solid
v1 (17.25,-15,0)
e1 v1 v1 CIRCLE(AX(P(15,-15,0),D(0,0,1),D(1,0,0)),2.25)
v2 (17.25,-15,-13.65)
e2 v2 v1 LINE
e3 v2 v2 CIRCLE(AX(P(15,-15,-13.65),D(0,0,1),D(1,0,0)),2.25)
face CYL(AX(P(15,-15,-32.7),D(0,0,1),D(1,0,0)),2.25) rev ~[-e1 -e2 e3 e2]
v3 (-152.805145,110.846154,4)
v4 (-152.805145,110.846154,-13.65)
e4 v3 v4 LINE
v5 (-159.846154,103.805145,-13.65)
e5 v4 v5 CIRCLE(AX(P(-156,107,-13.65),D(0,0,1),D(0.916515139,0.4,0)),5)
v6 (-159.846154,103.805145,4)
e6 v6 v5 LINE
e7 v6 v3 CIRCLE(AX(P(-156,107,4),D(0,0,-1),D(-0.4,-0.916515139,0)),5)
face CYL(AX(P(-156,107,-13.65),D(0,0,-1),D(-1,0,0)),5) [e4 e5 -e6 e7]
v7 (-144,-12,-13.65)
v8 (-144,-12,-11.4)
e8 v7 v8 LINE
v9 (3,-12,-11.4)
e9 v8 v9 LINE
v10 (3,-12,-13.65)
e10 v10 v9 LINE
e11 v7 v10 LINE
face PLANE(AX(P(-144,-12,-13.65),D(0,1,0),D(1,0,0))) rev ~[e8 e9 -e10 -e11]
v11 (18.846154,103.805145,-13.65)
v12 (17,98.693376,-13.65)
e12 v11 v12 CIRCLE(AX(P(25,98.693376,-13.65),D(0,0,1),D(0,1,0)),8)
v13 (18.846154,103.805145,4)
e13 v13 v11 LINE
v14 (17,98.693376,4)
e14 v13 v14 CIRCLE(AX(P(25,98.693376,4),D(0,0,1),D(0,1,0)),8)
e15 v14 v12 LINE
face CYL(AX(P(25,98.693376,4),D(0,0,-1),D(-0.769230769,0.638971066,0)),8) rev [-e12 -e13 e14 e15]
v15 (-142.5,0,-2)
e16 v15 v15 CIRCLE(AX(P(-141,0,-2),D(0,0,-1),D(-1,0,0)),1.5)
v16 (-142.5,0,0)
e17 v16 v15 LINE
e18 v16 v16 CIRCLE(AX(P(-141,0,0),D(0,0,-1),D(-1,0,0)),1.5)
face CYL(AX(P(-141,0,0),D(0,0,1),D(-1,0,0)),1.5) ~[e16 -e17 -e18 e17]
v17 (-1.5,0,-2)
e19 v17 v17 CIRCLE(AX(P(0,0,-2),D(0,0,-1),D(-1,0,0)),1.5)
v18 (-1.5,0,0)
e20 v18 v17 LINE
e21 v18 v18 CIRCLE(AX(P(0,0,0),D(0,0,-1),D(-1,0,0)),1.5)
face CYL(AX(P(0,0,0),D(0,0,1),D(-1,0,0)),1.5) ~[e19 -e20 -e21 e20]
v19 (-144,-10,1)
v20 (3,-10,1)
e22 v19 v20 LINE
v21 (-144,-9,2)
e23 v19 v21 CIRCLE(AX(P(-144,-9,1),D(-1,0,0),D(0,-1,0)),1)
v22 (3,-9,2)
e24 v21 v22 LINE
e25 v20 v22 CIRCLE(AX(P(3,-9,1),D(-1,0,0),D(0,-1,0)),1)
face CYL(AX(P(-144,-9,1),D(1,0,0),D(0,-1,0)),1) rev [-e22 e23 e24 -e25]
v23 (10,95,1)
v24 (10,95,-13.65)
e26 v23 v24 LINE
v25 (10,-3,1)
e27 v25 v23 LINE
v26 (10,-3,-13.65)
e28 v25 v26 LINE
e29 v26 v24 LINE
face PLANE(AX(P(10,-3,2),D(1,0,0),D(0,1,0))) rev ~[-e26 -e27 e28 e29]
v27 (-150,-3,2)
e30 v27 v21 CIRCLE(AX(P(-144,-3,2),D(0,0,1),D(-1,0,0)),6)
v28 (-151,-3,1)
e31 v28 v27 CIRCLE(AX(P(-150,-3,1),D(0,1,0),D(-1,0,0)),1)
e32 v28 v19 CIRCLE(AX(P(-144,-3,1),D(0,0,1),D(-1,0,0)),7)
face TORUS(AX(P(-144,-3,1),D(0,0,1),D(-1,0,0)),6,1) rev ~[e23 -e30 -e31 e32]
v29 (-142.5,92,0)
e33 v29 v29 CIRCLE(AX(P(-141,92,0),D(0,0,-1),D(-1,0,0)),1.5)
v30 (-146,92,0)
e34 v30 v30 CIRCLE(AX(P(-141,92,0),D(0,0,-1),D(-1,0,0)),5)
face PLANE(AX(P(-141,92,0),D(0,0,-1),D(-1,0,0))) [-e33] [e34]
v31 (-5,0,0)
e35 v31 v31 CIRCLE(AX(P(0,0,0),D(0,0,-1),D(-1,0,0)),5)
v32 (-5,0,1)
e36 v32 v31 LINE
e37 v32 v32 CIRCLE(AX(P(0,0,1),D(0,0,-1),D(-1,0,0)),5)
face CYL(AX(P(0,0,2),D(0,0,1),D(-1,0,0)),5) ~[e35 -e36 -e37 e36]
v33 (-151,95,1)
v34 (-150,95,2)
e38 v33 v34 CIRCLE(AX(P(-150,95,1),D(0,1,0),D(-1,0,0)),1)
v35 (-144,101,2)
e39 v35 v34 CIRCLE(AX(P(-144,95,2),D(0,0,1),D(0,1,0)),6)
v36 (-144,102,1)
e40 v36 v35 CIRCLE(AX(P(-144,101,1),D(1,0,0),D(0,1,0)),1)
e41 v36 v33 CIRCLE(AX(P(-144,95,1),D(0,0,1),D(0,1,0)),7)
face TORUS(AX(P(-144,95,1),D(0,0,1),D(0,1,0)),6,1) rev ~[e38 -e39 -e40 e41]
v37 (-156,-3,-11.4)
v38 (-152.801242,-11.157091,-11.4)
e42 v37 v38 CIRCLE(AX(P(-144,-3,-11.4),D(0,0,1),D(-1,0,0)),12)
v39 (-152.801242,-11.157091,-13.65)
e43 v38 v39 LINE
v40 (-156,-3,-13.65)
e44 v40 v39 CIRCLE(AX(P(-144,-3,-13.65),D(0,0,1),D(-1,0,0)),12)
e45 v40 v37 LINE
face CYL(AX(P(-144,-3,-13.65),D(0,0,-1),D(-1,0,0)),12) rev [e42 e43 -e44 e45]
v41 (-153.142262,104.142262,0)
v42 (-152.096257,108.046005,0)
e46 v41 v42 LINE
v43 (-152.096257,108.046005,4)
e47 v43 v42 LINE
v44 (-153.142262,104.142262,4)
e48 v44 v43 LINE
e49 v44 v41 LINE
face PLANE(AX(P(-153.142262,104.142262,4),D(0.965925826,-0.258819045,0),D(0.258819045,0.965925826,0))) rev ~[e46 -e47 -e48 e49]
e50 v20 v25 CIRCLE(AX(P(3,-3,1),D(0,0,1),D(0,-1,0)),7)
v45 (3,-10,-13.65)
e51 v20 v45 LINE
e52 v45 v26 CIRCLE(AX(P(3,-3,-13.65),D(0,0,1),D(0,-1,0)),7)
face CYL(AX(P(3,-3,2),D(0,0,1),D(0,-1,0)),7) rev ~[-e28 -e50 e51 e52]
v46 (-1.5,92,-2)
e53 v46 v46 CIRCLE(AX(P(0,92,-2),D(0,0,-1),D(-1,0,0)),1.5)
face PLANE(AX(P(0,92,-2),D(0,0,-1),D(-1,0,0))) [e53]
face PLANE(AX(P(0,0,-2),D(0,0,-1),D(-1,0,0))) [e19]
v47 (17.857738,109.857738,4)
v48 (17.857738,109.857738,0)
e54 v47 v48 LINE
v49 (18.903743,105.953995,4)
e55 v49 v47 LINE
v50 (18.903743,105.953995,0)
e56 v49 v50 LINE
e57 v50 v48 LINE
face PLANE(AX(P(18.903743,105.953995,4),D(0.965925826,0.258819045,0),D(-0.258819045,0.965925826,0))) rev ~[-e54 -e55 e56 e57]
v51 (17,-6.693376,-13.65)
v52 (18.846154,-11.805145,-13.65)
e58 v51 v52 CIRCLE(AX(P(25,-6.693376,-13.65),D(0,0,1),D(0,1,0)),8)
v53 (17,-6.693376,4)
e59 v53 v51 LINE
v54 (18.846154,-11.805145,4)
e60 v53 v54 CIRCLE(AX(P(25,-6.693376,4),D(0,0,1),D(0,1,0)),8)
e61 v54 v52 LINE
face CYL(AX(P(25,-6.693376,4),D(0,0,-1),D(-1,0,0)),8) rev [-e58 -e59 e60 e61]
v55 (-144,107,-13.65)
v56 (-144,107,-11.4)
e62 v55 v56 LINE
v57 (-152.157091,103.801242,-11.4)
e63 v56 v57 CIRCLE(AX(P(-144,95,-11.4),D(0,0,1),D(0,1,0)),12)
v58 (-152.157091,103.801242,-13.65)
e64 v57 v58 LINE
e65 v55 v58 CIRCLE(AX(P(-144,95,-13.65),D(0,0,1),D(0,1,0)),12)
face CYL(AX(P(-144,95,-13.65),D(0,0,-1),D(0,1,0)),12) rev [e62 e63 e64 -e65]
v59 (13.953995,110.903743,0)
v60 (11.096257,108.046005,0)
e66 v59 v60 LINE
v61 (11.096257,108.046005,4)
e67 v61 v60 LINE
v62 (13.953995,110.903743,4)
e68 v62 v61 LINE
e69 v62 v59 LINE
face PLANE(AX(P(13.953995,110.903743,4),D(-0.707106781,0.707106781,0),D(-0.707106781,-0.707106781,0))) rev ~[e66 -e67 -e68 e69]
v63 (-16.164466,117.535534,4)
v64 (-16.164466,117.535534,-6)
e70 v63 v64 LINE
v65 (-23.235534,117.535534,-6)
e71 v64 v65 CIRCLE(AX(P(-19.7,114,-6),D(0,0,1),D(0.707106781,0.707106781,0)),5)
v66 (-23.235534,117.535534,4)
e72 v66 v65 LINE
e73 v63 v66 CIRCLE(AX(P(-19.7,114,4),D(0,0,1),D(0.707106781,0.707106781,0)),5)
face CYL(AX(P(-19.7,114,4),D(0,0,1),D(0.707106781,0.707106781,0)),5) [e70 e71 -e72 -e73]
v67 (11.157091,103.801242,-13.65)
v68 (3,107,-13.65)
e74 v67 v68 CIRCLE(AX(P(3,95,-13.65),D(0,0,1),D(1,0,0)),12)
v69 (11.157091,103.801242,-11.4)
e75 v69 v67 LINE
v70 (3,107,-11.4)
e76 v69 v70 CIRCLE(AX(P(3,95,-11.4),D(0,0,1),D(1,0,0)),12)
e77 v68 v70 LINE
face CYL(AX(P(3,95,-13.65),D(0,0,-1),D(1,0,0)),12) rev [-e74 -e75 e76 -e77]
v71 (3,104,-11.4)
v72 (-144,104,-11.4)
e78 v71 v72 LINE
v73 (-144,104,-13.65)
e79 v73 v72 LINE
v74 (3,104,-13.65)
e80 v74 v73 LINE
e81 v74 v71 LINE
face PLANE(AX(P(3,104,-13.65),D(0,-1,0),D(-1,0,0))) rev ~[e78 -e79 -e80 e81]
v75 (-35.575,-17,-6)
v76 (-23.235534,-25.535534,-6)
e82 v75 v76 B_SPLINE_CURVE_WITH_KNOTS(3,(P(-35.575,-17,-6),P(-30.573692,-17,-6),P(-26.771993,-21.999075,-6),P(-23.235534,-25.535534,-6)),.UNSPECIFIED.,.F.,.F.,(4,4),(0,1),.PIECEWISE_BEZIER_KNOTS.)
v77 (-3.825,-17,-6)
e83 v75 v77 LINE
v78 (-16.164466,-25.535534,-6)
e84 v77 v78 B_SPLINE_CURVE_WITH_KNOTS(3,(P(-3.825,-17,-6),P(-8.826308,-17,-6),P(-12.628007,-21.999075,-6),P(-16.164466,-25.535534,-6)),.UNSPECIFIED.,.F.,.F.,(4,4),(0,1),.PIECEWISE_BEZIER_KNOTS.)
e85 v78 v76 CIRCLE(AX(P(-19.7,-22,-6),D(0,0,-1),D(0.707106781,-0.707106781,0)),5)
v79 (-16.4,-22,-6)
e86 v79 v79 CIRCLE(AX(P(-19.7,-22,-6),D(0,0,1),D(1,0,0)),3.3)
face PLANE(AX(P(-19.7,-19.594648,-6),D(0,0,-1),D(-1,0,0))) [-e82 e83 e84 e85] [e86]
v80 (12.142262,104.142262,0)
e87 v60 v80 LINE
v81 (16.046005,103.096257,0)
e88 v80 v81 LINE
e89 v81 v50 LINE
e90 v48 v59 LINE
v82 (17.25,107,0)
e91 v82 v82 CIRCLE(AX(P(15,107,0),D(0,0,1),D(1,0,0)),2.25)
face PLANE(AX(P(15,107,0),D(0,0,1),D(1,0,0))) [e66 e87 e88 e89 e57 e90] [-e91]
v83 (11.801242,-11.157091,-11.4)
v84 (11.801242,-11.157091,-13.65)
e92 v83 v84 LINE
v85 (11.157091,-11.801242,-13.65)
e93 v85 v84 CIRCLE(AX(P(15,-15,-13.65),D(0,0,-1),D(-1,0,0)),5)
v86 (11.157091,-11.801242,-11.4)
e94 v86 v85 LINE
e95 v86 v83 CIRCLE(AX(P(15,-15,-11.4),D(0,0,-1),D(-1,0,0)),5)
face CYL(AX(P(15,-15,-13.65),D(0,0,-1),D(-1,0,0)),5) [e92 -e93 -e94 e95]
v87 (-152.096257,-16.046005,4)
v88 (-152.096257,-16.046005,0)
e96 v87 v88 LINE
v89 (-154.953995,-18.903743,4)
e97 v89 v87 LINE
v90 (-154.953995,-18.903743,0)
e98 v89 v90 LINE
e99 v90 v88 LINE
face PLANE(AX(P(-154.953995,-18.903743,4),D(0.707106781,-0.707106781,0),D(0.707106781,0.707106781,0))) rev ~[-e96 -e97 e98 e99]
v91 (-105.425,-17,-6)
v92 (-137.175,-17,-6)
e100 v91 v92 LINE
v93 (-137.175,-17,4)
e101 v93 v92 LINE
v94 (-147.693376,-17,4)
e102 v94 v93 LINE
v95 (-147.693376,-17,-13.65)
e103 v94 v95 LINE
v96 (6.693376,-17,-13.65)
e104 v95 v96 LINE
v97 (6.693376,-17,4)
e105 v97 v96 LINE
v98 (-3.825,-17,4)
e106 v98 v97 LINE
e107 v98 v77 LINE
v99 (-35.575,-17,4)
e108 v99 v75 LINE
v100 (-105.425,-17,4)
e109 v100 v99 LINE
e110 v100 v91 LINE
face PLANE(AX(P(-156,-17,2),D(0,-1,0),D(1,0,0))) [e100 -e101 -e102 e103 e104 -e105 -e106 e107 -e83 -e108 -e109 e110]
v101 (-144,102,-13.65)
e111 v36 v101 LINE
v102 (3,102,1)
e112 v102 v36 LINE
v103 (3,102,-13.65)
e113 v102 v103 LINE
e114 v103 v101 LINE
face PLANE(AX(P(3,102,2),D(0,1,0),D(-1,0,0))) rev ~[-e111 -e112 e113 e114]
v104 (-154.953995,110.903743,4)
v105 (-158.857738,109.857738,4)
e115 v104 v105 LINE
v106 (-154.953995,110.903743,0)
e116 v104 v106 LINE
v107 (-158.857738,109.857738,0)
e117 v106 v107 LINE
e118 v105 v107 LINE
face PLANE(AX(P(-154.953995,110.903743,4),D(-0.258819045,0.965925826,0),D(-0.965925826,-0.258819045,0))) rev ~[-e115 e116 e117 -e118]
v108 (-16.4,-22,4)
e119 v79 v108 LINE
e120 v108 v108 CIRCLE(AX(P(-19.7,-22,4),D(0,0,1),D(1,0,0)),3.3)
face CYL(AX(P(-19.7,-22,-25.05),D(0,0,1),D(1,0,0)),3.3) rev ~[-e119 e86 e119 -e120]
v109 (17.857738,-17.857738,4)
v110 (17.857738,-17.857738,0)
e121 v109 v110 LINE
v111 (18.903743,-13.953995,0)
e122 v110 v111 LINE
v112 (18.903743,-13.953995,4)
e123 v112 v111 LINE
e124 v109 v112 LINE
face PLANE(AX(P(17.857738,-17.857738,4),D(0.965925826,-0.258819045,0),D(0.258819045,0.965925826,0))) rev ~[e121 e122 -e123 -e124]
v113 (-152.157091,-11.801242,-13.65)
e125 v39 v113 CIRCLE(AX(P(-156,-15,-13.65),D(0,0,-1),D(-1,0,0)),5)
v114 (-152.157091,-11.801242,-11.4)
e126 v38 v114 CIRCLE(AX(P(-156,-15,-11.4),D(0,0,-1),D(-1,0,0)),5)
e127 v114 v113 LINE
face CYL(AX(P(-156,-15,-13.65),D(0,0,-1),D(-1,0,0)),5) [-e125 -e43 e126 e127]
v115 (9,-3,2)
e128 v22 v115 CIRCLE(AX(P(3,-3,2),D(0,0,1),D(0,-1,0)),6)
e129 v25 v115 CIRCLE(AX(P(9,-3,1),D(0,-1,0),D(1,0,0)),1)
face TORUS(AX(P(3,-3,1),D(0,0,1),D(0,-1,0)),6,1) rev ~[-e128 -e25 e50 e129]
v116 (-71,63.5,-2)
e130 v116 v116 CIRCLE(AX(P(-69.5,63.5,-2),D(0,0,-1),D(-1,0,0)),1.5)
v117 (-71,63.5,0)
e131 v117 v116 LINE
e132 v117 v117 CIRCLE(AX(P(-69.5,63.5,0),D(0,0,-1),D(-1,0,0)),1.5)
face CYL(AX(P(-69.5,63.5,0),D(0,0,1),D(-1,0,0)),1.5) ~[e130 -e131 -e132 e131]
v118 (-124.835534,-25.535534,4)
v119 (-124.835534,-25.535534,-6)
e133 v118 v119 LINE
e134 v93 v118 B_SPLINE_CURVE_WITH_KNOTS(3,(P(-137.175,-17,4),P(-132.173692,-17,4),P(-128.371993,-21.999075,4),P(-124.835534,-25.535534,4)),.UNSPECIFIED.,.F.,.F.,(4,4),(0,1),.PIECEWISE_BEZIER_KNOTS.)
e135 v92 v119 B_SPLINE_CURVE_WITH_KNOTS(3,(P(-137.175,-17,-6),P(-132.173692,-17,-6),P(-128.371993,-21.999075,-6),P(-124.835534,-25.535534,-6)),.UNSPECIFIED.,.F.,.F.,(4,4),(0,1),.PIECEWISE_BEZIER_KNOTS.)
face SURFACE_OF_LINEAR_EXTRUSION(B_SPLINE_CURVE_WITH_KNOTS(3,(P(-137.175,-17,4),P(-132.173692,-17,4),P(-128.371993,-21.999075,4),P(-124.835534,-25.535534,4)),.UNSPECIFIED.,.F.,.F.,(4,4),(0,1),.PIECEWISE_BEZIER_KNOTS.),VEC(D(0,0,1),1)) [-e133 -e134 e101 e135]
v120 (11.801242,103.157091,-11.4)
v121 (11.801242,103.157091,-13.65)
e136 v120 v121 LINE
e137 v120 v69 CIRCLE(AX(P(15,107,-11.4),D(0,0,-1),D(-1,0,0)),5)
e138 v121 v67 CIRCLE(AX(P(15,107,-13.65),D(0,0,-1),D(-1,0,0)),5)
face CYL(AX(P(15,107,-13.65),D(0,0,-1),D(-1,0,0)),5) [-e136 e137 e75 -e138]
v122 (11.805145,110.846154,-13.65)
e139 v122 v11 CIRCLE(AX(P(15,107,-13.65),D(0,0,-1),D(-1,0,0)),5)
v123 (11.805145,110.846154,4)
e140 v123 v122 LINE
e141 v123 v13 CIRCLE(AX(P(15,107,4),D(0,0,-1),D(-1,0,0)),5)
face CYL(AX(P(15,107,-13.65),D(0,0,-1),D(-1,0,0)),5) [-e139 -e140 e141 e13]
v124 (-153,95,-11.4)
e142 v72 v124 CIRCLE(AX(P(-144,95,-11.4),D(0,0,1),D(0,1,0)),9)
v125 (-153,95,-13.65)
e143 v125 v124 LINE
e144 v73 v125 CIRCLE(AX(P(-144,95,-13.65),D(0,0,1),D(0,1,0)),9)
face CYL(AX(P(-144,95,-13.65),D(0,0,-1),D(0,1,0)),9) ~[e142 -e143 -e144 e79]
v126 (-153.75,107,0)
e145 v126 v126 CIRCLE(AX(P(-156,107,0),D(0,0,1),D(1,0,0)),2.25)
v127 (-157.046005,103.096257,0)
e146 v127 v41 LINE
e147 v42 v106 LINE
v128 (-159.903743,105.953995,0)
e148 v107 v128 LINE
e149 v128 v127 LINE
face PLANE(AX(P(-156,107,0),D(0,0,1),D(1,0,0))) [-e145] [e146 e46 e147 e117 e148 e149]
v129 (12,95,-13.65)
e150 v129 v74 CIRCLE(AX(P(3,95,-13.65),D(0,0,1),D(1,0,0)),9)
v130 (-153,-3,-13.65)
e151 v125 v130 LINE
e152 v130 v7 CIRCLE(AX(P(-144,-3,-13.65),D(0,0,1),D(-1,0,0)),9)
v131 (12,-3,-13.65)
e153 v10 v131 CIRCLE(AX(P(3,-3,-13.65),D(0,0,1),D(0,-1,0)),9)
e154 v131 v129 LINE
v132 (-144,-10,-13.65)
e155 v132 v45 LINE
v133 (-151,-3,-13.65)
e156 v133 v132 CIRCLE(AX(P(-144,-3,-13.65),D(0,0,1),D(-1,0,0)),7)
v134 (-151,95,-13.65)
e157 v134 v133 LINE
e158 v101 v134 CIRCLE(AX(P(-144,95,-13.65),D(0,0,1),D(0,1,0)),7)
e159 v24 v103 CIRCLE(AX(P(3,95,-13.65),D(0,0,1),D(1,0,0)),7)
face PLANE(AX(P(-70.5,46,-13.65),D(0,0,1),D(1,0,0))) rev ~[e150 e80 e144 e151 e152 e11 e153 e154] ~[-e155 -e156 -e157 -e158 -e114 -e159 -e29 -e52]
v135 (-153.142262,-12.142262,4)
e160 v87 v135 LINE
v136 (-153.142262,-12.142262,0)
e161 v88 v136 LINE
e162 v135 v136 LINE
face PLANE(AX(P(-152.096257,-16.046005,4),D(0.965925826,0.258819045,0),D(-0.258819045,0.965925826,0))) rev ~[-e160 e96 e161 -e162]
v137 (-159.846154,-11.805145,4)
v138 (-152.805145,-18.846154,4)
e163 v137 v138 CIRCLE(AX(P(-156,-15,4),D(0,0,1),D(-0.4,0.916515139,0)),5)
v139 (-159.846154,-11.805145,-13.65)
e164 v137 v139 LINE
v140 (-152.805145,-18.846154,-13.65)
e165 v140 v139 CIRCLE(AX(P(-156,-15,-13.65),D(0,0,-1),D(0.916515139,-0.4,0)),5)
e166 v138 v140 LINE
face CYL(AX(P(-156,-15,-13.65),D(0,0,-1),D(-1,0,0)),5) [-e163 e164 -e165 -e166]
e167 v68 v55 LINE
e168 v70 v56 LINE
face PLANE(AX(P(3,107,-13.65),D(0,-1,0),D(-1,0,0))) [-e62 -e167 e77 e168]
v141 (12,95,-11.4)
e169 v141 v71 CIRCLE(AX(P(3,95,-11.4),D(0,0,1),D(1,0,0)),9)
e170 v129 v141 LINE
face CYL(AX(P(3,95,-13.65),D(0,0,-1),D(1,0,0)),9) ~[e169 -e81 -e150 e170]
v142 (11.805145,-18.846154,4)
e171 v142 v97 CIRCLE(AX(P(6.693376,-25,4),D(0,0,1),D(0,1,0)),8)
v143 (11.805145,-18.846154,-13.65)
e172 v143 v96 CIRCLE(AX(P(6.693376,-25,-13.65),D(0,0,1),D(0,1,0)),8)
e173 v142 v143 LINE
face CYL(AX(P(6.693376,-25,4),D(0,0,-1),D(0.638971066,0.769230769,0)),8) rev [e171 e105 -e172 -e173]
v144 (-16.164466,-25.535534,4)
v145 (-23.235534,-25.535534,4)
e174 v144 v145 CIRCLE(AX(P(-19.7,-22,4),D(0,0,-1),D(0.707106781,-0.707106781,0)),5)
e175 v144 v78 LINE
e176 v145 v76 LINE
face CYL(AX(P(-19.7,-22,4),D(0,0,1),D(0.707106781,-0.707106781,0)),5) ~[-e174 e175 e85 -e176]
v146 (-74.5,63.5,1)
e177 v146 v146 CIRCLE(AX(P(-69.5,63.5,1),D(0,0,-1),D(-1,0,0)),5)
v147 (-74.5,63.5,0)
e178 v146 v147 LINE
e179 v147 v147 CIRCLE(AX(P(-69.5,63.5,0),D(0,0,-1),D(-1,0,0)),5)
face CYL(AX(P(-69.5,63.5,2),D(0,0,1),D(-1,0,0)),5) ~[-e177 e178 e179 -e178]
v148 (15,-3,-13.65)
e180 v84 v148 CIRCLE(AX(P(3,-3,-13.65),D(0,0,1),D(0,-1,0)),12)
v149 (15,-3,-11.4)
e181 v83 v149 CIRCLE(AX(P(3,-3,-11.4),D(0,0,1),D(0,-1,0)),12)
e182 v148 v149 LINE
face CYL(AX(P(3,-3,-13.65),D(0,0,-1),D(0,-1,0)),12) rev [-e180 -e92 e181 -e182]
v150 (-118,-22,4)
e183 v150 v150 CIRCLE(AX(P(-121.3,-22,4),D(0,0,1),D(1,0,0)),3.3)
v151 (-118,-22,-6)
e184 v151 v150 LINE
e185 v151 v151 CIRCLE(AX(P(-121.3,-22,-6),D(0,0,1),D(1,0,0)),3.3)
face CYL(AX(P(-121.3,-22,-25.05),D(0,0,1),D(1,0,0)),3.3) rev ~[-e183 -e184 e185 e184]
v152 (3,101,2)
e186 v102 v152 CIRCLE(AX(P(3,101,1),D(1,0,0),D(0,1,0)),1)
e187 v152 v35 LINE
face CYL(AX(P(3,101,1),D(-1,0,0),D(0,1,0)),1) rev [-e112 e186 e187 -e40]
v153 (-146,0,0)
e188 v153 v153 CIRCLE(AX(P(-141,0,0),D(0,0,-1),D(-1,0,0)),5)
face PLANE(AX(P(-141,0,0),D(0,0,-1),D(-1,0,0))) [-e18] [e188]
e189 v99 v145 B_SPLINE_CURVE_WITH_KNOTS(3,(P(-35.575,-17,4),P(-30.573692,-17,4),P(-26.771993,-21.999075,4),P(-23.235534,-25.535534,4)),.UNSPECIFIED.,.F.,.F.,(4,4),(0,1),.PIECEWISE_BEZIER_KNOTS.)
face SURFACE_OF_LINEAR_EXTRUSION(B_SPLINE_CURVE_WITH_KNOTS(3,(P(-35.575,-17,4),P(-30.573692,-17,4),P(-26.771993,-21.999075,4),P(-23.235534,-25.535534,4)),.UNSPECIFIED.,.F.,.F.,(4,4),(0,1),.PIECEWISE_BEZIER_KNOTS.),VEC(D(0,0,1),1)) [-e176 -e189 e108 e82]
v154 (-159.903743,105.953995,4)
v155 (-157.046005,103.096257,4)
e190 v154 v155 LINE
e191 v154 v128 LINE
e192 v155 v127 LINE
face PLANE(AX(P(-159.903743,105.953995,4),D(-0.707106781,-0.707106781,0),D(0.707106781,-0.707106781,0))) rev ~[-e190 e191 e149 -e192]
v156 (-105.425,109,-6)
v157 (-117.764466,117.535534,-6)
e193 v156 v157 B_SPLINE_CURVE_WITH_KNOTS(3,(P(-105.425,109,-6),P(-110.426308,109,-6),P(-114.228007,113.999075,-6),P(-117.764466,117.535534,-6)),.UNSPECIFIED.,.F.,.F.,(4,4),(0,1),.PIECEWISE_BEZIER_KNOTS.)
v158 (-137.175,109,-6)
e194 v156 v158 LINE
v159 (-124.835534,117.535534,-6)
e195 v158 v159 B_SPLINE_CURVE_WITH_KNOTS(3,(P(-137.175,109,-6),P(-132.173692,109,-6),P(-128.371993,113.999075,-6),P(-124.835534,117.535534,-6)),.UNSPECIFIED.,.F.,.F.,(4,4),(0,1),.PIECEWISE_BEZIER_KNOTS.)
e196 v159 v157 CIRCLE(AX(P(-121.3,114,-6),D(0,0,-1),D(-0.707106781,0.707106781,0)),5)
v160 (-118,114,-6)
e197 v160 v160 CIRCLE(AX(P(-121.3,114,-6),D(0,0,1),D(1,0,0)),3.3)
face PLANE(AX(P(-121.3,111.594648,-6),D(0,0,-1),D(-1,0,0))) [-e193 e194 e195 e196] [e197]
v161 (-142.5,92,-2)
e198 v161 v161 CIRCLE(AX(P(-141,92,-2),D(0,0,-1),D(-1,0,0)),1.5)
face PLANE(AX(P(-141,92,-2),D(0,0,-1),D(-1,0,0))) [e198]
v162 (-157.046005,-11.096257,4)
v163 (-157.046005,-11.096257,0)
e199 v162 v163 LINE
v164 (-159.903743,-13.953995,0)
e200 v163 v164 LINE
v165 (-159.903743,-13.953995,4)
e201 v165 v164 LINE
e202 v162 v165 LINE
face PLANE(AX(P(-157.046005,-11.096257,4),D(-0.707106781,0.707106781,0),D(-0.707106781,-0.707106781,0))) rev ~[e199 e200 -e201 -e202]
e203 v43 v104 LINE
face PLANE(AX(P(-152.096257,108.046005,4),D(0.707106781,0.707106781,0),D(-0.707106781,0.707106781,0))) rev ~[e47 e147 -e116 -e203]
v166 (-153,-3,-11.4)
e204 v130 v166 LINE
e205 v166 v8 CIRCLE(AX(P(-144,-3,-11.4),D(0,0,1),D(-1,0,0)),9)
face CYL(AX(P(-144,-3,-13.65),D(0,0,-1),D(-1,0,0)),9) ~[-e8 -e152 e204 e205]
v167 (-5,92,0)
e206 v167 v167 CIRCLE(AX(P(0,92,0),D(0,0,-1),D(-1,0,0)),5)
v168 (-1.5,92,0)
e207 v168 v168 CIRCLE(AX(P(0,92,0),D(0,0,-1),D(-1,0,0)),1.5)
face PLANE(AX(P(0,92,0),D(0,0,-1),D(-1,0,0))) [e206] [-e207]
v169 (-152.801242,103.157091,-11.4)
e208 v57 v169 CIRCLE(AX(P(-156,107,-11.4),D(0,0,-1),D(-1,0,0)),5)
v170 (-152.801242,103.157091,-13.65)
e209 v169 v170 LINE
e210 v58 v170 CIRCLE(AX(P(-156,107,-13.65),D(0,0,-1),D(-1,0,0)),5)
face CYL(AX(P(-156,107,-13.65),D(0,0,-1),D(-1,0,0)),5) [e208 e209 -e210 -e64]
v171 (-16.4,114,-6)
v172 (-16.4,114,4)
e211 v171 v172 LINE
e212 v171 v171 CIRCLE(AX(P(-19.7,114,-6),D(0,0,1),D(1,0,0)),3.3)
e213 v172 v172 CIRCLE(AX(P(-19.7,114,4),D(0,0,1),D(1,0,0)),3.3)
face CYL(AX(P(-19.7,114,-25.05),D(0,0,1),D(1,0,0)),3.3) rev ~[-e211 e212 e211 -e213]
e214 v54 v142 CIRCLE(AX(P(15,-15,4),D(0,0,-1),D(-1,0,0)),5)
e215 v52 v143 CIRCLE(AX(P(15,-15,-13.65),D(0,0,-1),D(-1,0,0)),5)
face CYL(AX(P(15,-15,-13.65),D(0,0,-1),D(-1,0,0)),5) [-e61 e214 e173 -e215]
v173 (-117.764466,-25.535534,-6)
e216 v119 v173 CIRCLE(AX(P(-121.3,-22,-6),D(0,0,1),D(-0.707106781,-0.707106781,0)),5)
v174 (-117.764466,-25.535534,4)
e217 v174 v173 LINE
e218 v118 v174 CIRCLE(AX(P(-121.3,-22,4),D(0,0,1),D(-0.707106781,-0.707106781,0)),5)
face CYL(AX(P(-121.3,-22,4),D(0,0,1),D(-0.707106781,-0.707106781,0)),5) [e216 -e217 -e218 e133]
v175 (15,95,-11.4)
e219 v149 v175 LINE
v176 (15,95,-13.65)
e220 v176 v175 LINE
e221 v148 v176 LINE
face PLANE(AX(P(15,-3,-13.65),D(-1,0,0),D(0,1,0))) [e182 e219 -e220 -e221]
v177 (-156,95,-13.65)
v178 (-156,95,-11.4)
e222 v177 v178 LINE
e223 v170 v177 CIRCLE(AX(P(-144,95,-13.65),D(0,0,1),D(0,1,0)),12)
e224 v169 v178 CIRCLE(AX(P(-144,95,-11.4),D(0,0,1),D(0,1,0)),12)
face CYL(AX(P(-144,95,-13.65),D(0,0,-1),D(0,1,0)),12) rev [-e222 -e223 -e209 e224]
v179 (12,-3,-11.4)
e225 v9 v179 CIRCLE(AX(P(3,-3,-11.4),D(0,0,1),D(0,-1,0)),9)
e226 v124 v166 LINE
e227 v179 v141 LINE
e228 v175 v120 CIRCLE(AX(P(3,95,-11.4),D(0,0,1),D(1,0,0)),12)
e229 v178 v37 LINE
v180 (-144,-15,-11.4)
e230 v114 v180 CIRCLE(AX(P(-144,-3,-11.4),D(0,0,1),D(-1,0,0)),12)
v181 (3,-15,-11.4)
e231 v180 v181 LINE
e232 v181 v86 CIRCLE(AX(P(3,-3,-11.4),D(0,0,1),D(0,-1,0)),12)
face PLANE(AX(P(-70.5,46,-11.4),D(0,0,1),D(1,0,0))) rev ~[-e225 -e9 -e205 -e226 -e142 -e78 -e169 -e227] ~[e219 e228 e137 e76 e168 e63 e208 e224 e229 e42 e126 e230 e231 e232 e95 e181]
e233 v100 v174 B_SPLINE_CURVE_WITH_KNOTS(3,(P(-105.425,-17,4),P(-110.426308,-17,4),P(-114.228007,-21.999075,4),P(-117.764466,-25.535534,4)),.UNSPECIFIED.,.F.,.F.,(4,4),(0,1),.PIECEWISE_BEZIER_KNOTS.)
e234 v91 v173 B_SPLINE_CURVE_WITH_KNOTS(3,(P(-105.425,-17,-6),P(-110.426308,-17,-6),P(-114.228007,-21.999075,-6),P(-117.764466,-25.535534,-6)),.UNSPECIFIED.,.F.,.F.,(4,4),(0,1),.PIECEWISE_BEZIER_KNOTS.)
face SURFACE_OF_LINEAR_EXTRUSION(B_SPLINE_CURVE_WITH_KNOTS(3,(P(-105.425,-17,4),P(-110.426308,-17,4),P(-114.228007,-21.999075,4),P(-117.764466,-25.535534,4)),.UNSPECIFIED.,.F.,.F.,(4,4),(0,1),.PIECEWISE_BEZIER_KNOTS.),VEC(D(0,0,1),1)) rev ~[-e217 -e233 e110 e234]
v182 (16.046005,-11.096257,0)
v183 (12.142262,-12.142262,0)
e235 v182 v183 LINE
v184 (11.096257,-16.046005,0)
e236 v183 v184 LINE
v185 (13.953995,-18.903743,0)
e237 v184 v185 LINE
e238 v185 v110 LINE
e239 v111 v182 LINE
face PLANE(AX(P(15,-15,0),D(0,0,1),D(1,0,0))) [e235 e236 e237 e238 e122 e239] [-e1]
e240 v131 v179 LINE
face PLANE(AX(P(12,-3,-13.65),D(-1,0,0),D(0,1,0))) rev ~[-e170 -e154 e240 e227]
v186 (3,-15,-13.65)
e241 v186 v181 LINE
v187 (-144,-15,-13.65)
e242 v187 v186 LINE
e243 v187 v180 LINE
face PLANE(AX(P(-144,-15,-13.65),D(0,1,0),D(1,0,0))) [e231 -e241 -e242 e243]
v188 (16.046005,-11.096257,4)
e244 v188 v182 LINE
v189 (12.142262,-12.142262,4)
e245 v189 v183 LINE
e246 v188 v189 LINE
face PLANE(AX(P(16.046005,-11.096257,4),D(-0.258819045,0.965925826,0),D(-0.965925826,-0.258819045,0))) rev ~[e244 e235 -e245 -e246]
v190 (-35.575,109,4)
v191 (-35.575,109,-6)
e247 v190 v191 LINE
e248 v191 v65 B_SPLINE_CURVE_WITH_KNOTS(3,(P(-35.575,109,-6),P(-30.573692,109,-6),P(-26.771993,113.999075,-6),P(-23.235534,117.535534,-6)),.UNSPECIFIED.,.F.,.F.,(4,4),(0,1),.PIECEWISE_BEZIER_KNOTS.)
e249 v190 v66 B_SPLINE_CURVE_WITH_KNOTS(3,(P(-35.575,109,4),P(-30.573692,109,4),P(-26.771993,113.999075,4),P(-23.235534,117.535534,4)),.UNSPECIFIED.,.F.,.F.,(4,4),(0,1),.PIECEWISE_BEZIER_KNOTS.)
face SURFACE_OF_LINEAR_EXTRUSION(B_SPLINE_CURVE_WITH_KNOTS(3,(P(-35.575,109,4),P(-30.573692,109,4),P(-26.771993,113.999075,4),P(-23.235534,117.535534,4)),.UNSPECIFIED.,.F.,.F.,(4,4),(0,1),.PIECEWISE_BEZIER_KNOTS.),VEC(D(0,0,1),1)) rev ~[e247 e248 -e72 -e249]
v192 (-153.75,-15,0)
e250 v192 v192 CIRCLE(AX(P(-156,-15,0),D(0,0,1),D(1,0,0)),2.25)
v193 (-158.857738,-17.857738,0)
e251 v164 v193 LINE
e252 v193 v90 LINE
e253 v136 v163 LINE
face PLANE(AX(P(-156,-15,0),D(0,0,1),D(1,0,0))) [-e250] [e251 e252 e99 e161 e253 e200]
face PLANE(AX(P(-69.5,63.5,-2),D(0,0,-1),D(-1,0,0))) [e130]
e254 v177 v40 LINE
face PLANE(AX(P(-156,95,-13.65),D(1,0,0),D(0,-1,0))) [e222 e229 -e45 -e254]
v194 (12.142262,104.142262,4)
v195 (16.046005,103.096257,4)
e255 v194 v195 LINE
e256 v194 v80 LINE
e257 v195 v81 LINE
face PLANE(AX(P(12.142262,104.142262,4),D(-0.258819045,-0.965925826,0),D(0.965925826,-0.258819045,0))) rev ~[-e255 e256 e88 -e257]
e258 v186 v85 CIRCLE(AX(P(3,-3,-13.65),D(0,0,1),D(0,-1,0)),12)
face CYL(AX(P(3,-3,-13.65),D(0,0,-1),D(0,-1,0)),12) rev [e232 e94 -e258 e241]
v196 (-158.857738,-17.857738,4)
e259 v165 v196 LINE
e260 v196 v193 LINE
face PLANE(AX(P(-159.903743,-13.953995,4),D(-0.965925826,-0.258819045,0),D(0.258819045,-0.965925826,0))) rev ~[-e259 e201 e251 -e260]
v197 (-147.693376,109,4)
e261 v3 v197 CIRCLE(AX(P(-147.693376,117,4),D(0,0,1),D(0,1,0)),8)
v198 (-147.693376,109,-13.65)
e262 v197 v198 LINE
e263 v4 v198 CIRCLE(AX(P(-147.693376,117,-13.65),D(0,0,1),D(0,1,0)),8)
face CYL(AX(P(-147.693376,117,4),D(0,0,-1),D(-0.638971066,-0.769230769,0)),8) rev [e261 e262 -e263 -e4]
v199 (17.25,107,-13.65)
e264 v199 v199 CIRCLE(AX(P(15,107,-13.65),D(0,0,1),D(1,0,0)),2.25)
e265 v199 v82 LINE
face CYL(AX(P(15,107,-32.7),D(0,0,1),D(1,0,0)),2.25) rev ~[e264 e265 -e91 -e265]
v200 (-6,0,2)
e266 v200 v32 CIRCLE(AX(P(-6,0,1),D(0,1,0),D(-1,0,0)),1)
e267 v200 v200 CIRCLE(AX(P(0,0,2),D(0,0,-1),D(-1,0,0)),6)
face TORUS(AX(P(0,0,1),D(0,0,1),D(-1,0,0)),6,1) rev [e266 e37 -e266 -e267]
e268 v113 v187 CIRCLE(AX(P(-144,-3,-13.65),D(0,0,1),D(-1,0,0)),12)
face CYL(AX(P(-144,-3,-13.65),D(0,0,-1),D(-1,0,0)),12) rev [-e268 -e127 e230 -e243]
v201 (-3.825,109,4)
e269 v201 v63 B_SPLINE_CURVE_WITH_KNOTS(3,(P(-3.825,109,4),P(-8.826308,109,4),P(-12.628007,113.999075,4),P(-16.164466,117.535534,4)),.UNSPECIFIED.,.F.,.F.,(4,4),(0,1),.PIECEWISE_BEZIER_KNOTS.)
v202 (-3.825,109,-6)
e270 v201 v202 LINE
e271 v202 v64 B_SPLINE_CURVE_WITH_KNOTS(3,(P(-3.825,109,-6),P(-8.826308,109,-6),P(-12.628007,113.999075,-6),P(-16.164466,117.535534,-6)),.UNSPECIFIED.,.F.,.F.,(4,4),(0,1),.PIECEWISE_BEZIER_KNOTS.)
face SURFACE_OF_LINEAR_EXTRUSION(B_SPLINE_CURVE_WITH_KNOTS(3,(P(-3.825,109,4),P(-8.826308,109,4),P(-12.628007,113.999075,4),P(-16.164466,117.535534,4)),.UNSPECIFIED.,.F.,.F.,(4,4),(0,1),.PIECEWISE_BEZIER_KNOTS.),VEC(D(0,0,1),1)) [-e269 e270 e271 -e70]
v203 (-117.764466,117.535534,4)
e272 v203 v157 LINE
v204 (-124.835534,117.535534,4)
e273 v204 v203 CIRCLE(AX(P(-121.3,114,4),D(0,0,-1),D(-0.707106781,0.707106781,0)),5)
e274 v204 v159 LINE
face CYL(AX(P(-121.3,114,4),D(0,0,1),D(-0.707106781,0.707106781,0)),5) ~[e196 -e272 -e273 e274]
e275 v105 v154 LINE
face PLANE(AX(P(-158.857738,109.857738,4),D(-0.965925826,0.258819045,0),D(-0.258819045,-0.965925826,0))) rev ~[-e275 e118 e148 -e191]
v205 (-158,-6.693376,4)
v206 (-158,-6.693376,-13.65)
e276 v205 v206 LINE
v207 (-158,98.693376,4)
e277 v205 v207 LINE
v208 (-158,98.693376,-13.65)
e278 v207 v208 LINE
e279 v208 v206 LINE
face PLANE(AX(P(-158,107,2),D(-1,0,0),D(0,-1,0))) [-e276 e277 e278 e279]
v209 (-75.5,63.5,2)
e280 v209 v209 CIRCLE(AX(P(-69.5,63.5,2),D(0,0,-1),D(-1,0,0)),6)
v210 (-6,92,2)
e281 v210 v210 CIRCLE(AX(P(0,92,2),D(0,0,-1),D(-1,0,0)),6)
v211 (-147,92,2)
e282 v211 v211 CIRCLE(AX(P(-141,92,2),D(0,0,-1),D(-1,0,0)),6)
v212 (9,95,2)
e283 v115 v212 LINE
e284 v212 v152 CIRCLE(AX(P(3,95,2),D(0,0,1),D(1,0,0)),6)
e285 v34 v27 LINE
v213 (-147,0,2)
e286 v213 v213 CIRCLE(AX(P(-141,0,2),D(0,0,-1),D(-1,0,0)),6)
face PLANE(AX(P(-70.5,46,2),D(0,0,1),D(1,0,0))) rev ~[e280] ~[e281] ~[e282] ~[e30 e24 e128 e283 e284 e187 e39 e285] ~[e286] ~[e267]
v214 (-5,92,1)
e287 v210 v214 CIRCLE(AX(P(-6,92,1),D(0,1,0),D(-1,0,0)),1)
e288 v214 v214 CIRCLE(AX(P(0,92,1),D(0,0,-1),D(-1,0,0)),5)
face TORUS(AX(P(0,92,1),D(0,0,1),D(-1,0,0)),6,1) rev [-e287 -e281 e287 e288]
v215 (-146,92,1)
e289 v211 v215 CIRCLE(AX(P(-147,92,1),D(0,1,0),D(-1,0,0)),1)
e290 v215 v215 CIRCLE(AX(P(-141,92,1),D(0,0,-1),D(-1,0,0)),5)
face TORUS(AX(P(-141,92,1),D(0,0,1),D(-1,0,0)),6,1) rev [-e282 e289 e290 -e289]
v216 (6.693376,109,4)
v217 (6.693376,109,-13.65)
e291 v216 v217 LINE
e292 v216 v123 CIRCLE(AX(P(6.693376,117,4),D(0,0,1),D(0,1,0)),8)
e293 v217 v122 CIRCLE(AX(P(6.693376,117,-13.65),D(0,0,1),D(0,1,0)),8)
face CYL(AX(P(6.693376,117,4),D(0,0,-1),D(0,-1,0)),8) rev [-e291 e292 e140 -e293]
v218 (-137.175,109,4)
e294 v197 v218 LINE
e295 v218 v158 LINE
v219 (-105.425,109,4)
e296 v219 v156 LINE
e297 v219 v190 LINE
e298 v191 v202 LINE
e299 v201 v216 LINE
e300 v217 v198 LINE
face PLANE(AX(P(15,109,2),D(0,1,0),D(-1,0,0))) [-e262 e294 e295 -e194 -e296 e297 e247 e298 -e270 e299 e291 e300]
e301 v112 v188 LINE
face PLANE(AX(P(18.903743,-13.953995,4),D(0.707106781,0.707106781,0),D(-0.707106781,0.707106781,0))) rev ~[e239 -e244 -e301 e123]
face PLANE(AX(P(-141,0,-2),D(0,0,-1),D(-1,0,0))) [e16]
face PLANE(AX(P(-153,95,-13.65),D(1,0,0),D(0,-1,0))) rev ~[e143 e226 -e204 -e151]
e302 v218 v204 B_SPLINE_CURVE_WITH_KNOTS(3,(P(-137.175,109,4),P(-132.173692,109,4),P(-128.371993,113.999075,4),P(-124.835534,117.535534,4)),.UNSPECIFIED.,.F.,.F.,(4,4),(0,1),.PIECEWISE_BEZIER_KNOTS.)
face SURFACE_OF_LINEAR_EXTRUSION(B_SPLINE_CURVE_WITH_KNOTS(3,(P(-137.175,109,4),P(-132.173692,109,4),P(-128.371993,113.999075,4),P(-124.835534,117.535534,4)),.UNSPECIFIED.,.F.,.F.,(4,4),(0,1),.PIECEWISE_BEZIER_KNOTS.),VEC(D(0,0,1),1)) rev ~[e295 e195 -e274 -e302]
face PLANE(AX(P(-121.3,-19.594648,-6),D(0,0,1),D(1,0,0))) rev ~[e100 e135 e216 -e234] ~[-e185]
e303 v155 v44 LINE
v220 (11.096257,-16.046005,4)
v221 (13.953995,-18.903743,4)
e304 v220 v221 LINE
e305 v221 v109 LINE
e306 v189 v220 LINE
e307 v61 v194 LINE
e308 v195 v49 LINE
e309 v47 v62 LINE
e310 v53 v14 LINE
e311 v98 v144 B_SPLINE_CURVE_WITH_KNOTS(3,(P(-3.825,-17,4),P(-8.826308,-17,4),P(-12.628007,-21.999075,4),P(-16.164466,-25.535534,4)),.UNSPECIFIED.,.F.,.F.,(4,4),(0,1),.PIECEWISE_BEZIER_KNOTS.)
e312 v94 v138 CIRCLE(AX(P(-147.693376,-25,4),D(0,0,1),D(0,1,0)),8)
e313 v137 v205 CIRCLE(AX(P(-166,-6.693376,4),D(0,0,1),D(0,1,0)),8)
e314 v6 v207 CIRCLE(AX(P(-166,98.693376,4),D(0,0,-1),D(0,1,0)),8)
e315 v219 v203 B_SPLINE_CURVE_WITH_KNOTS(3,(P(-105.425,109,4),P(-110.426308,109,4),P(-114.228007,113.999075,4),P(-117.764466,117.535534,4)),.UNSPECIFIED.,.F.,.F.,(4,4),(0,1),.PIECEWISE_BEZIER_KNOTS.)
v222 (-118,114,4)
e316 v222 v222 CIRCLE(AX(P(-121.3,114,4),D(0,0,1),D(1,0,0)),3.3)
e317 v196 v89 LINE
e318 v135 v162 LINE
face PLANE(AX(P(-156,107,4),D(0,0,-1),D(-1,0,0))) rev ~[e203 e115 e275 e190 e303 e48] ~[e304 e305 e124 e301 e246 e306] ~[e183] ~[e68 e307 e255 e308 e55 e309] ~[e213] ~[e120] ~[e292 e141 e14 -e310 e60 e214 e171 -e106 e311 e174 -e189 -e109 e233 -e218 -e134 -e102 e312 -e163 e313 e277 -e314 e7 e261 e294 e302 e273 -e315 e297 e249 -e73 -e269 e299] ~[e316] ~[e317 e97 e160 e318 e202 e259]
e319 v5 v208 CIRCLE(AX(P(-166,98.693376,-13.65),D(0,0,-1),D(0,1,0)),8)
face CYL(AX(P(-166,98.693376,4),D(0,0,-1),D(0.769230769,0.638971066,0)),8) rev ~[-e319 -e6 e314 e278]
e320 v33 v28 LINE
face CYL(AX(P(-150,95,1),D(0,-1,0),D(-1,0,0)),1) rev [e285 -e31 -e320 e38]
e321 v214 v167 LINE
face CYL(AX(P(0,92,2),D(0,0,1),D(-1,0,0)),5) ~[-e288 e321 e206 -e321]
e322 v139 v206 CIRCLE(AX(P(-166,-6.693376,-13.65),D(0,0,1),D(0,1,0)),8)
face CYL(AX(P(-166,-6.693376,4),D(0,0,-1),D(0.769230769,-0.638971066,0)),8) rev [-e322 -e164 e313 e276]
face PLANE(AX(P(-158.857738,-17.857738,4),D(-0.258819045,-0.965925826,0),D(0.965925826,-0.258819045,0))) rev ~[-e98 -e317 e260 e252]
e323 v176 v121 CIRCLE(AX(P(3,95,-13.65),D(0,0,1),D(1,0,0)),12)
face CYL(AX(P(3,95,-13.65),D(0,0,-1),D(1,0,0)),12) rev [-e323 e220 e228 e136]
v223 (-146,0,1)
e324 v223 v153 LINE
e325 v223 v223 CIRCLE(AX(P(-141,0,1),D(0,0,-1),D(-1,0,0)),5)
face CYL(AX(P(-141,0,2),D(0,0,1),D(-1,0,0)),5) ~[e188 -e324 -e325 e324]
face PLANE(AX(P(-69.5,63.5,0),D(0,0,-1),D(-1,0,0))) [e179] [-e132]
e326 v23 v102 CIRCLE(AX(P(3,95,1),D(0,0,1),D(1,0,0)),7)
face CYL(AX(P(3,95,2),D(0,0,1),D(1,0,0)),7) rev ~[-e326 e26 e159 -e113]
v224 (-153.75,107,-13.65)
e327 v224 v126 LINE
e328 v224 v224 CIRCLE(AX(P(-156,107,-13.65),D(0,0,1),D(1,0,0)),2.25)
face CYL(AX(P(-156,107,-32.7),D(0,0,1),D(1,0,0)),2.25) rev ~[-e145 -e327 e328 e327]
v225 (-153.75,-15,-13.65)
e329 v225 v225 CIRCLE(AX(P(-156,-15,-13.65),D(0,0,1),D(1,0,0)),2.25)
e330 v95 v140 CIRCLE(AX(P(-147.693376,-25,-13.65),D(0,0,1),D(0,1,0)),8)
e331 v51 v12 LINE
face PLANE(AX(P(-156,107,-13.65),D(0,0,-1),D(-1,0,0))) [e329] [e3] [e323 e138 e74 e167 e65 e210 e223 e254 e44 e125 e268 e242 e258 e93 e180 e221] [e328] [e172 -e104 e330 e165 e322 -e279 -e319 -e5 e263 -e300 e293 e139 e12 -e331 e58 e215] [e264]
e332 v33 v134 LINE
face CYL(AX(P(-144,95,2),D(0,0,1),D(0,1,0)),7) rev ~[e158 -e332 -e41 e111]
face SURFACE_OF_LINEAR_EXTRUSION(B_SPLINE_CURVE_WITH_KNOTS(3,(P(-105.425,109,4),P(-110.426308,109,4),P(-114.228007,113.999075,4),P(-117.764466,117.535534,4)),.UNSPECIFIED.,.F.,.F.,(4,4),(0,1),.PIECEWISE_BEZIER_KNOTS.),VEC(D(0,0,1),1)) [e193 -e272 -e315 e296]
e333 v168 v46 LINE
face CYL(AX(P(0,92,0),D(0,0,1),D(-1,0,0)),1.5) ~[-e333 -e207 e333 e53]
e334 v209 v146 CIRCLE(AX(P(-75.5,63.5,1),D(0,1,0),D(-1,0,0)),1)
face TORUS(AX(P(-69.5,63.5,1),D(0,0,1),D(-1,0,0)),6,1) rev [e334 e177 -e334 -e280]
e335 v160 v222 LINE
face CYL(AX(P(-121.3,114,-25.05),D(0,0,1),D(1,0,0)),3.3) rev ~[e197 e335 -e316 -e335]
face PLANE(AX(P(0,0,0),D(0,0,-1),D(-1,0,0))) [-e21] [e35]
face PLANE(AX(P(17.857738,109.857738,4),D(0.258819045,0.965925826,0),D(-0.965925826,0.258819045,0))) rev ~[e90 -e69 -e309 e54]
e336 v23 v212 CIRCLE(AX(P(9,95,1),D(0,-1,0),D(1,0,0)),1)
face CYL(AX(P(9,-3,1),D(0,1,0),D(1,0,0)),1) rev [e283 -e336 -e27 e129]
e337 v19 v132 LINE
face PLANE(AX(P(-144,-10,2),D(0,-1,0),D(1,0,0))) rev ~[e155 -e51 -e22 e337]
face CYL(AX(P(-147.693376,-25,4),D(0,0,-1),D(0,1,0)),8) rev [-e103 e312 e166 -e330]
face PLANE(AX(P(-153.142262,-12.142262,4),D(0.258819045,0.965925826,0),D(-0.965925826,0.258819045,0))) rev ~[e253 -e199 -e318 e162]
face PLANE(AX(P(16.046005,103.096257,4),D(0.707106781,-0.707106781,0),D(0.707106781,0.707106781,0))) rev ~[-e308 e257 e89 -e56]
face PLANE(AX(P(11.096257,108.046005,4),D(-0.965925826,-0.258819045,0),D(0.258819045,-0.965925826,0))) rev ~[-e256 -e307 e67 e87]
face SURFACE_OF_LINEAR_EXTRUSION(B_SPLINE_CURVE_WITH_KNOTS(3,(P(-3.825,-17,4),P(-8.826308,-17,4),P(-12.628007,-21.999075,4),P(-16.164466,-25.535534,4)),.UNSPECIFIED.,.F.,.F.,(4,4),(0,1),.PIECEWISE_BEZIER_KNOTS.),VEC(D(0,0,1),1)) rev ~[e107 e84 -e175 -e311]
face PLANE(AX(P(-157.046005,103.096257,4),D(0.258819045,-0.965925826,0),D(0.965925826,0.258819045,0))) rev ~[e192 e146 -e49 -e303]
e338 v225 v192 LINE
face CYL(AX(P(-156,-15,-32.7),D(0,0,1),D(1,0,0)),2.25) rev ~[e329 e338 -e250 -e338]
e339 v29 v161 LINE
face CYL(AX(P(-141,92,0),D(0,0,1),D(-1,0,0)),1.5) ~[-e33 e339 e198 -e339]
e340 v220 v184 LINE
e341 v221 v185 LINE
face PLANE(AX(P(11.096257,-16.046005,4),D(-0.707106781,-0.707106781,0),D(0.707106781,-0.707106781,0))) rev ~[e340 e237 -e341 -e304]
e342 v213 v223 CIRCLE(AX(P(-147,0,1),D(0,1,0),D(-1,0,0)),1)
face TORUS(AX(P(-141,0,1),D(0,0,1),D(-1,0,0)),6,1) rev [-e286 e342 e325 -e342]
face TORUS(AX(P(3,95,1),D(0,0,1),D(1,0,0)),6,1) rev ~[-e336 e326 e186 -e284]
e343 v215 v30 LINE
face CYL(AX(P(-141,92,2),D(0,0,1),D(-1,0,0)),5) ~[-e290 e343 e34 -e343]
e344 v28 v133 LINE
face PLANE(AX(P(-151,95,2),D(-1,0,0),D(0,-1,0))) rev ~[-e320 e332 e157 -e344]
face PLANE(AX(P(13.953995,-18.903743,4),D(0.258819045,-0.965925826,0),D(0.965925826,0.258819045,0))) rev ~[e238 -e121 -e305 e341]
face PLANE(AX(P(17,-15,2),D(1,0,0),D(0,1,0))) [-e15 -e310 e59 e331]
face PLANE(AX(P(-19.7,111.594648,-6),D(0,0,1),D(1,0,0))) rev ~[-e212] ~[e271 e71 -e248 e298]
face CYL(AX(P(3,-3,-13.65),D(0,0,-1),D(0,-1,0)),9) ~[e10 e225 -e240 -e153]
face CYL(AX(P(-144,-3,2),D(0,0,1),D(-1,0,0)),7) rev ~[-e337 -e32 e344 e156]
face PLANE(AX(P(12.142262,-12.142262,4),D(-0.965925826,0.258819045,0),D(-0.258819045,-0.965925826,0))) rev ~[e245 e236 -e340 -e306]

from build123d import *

# Parameters (mm, degrees)
BOSS_EXTRUDE1_START      = 2
SKETCH1_W                = 175
SKETCH1_H                = 126
BOSS_EXTRUDE1_DEPTH      = 2
SKETCH2_R                = 5
BOSS_EXTRUDE2_DEPTH      = 2
FILLET1_R                = 2
BOSS_EXTRUDE3_DEPTH      = 15.65
CUT_EXTRUDE_THIN1_DEPTH  = 2.25
SKETCH8_R                = 5
BOSS_EXTRUDE4_DEPTH      = 17.65
FILLET2_R                = 8
SKETCH9_R                = 1.5
BOSS_EXTRUDE5_DEPTH      = 2
M4_CLEARANCE_HOLE1_D     = 4.5
M4_CLEARANCE_HOLE1_DEPTH = 19.05
M4_CLEARANCE_HOLE1_TIP   = 1.351936393
CUT_EXTRUDE1_DEPTH       = 4
FILLET3_R                = 1
BOSS_EXTRUDE6_DEPTH      = 10
M6_CLEARANCE_HOLE2_D     = 6.6
M6_CLEARANCE_HOLE2_DEPTH = 19.05
M6_CLEARANCE_HOLE2_TIP   = 1.982840043


with BuildPart() as part:
    # Sketch1 → Boss-Extrude1 (new body)
    with BuildSketch(Plane.XY.offset(BOSS_EXTRUDE1_START)):
        with Locations((-70.5, 46)):
            Rectangle(SKETCH1_W, SKETCH1_H)
    extrude(amount=BOSS_EXTRUDE1_DEPTH)

    # Sketch2 → Boss-Extrude2 (add)
    with BuildSketch(Plane(origin=(0, 0, 2), x_dir=(-1, 0, 0), z_dir=(0, 0, -1))):
        Circle(SKETCH2_R)
        with Locations((69.5, 63.5)):
            Circle(SKETCH2_R)
        with Locations((0, 92)):
            Circle(SKETCH2_R)
        with Locations((141, 92)):
            Circle(SKETCH2_R)
        with Locations((141, 0)):
            Circle(SKETCH2_R)
    extrude(amount=BOSS_EXTRUDE2_DEPTH)

    # Fillet1
    fillet1_edges = [part.edges().sort_by_distance(p)[0] for p in [
        (-158, 109, 3),
        (17, 109, 3),
        (17, -17, 3),
        (-158, -17, 3),
    ]]
    fillet(fillet1_edges, radius=FILLET1_R)

    # Sketch3 → Boss-Extrude3 (add)
    with BuildSketch(Plane(origin=(0, 0, 2), x_dir=(-1, 0, 0), z_dir=(0, 0, -1))):
        with BuildLine():
            Line((-15, 109), (156, 109))
            ThreePointArc((156, 109), (157.414213562, 108.414213562), (158, 107))
            Line((158, 107), (158, -15))
            ThreePointArc((158, -15), (157.414213562, -16.414213562), (156, -17))
            Line((156, -17), (-15, -17))
            ThreePointArc((-15, -17), (-16.414213562, -16.414213562), (-17, -15))
            Line((-17, -15), (-17, 107))
            ThreePointArc((-17, 107), (-16.414213562, 108.414213562), (-15, 109))
        make_face()
        with BuildLine():
            Line((-3, 102), (144, 102))
            ThreePointArc((144, 102), (148.949747468, 99.949747468), (151, 95))
            Line((151, 95), (151, -3))
            ThreePointArc((151, -3), (148.949747468, -7.949747468), (144, -10))
            Line((144, -10), (-3, -10))
            ThreePointArc((-3, -10), (-7.949747468, -7.949747468), (-10, -3))
            Line((-10, -3), (-10, 95))
            ThreePointArc((-10, 95), (-7.949747468, 99.949747468), (-3, 102))
        make_face(mode=Mode.SUBTRACT)
    extrude(amount=BOSS_EXTRUDE3_DEPTH)

    # Sketch5 → Cut-Extrude-Thin1 (cut)
    with BuildSketch(Plane(origin=(0, 0, -13.65), x_dir=(-1, 0, 0), z_dir=(0, 0, -1))):
        with BuildLine():
            Line((-3, 107), (144, 107))
            ThreePointArc((144, 107), (152.485281374, 103.485281374), (156, 95))
            Line((156, 95), (156, -3))
            ThreePointArc((156, -3), (152.485281374, -11.485281374), (144, -15))
            Line((144, -15), (-3, -15))
            ThreePointArc((-3, -15), (-11.485281374, -11.485281374), (-15, -3))
            Line((-15, -3), (-15, 95))
            ThreePointArc((-15, 95), (-11.485281374, 103.485281374), (-3, 107))
        make_face()
        with BuildLine():
            Line((-3, 104), (144, 104))
            ThreePointArc((144, 104), (150.363961031, 101.363961031), (153, 95))
            Line((153, 95), (153, -3))
            ThreePointArc((153, -3), (150.363961031, -9.363961031), (144, -12))
            Line((144, -12), (-3, -12))
            ThreePointArc((-3, -12), (-9.363961031, -9.363961031), (-12, -3))
            Line((-12, -3), (-12, 95))
            ThreePointArc((-12, 95), (-9.363961031, 101.363961031), (-3, 104))
        make_face(mode=Mode.SUBTRACT)
    extrude(amount=-CUT_EXTRUDE_THIN1_DEPTH, mode=Mode.SUBTRACT)

    # Sketch8 → Boss-Extrude4 (add)
    with BuildSketch(Plane(origin=(0, 0, -13.65), x_dir=(-1, 0, 0), z_dir=(0, 0, -1))):
        with Locations((156, 107)):
            Circle(SKETCH8_R)
        with Locations((156, -15)):
            Circle(SKETCH8_R)
        with Locations((-15, -15)):
            Circle(SKETCH8_R)
        with Locations((-15, 107)):
            Circle(SKETCH8_R)
    extrude(amount=-BOSS_EXTRUDE4_DEPTH)

    # Fillet2
    fillet2_edges = [part.edges().sort_by_distance(p)[0] for p in [
        (-151.417424305, 109, -4.825),
        (-158, 102.417424305, -4.825),
        (-158, -10.417424305, -4.825),
        (-151.417424305, -17, -4.825),
        (10.417424305, -17, -4.825),
        (17, -10.417424305, -4.825),
        (17, 102.417424305, -4.825),
        (10.417424305, 109, -4.825),
    ]]
    fillet(fillet2_edges, radius=FILLET2_R)

    # Sketch9 → Boss-Extrude5 (add)
    with BuildSketch(Plane(origin=(0, 0, 0), x_dir=(-1, 0, 0), z_dir=(0, 0, -1))):
        with Locations((0, 92)):
            Circle(SKETCH9_R)
        Circle(SKETCH9_R)
        with Locations((69.5, 63.5)):
            Circle(SKETCH9_R)
        with Locations((141, 92)):
            Circle(SKETCH9_R)
        with Locations((141, 0)):
            Circle(SKETCH9_R)
    extrude(amount=BOSS_EXTRUDE5_DEPTH)

    # M4 Clearance Hole1
    with Locations(Plane(origin=(0, 0, -13.65), x_dir=(-1, 0, 0), z_dir=(0, 0, -1))):
        with Locations((-15, 107), (-15, -15), (156, -15), (156, 107)):
            Hole(M4_CLEARANCE_HOLE1_D / 2, depth=M4_CLEARANCE_HOLE1_DEPTH)
            with Locations((0, 0, -(M4_CLEARANCE_HOLE1_DEPTH + M4_CLEARANCE_HOLE1_TIP / 2))):  # 118° drill point
                Cone(0, M4_CLEARANCE_HOLE1_D / 2, M4_CLEARANCE_HOLE1_TIP, mode=Mode.SUBTRACT)

    # Sketch12 → Cut-Extrude1 (cut)
    with BuildSketch(Plane.XY.offset(4)):
        Polygon((17.857738033, -17.857738033), (18.903742751, -13.953995282), (16.046004718, -11.096257249), (12.142261967, -12.142261967), (11.096257249, -16.046004718), (13.953995282, -18.903742751), align=None)
        Polygon((17.857738033, 109.857738033), (13.953995282, 110.903742751), (11.096257249, 108.046004718), (12.142261967, 104.142261967), (16.046004718, 103.096257249), (18.903742751, 105.953995282), align=None)
        Polygon((-158.857738033, 109.857738033), (-159.903742751, 105.953995282), (-157.046004718, 103.096257249), (-153.142261967, 104.142261967), (-152.096257249, 108.046004718), (-154.953995282, 110.903742751), align=None)
        Polygon((-153.142261967, -12.142261967), (-157.046004718, -11.096257249), (-159.903742751, -13.953995282), (-158.857738033, -17.857738033), (-154.953995282, -18.903742751), (-152.096257249, -16.046004718), align=None)
    extrude(amount=-CUT_EXTRUDE1_DEPTH, mode=Mode.SUBTRACT)

    # Fillet3
    fillet3_edges = [part.edges().sort_by_distance(p)[0] for p in [
        (5, 0, 2),
        (-64.5, 63.5, 2),
        (5, 92, 2),
        (-136, 92, 2),
        (-136, 0, 2),
        (-148.949747468, 99.949747468, 2),
        (-70.5, 102, 2),
        (7.949747468, 99.949747468, 2),
        (10, 46, 2),
        (7.949747468, -7.949747468, 2),
        (-70.5, -10, 2),
        (-148.949747468, -7.949747468, 2),
        (-151, 46, 2),
    ]]
    fillet(fillet3_edges, radius=FILLET3_R)

    # Sketch13 → Boss-Extrude6 (add)
    with BuildSketch(Plane.XY.offset(4)):
        with BuildLine():
            Line((-105.425, -17), (-137.175, -17))
            add(Edge.make_bspline(
                [(-137.175, -17), (-132.173691698, -17), (-128.371992921, -21.999074891), (-124.835533906, -25.535533906)],
                knots=[0, 0, 0, 0, 1, 1, 1, 1], degree=3))
            ThreePointArc((-124.835533906, -25.535533906), (-121.3, -27), (-117.764466094, -25.535533906))
            add(Edge.make_bspline(
                [(-105.425, -17), (-110.426308302, -17), (-114.228007079, -21.999074891), (-117.764466094, -25.535533906)],
                knots=[0, 0, 0, 0, 1, 1, 1, 1], degree=3))
        make_face()
        with BuildLine():
            Line((-35.575, -17), (-3.825, -17))
            add(Edge.make_bspline(
                [(-3.825, -17), (-8.826308302, -17), (-12.628007079, -21.999074891), (-16.164466094, -25.535533906)],
                knots=[0, 0, 0, 0, 1, 1, 1, 1], degree=3))
            ThreePointArc((-16.164466094, -25.535533906), (-19.7, -27), (-23.235533906, -25.535533906))
            add(Edge.make_bspline(
                [(-35.575, -17), (-30.573691698, -17), (-26.771992921, -21.999074891), (-23.235533906, -25.535533906)],
                knots=[0, 0, 0, 0, 1, 1, 1, 1], degree=3))
        make_face()
        with BuildLine():
            Line((-35.575, 109), (-3.825, 109))
            add(Edge.make_bspline(
                [(-3.825, 109), (-8.826308302, 109), (-12.628007079, 113.999074891), (-16.164466094, 117.535533906)],
                knots=[0, 0, 0, 0, 1, 1, 1, 1], degree=3))
            ThreePointArc((-16.164466094, 117.535533906), (-19.7, 119), (-23.235533906, 117.535533906))
            add(Edge.make_bspline(
                [(-35.575, 109), (-30.573691698, 109), (-26.771992921, 113.999074891), (-23.235533906, 117.535533906)],
                knots=[0, 0, 0, 0, 1, 1, 1, 1], degree=3))
        make_face()
        with BuildLine():
            Line((-105.425, 109), (-137.175, 109))
            add(Edge.make_bspline(
                [(-137.175, 109), (-132.173691698, 109), (-128.371992921, 113.999074891), (-124.835533906, 117.535533906)],
                knots=[0, 0, 0, 0, 1, 1, 1, 1], degree=3))
            ThreePointArc((-124.835533906, 117.535533906), (-121.3, 119), (-117.764466094, 117.535533906))
            add(Edge.make_bspline(
                [(-105.425, 109), (-110.426308302, 109), (-114.228007079, 113.999074891), (-117.764466094, 117.535533906)],
                knots=[0, 0, 0, 0, 1, 1, 1, 1], degree=3))
        make_face()
    extrude(amount=-BOSS_EXTRUDE6_DEPTH)

    # M6 Clearance Hole2
    with Locations(Plane(origin=(0, 0, -6), x_dir=(-1, 0, 0), z_dir=(0, 0, -1))):
        with Locations((19.7, 114), (121.3, 114), (121.3, -22), (19.7, -22)):
            Hole(M6_CLEARANCE_HOLE2_D / 2, depth=M6_CLEARANCE_HOLE2_DEPTH)
            with Locations((0, 0, -(M6_CLEARANCE_HOLE2_DEPTH + M6_CLEARANCE_HOLE2_TIP / 2))):  # 118° drill point
                Cone(0, M6_CLEARANCE_HOLE2_D / 2, M6_CLEARANCE_HOLE2_TIP, mode=Mode.SUBTRACT)


solid = part.part
